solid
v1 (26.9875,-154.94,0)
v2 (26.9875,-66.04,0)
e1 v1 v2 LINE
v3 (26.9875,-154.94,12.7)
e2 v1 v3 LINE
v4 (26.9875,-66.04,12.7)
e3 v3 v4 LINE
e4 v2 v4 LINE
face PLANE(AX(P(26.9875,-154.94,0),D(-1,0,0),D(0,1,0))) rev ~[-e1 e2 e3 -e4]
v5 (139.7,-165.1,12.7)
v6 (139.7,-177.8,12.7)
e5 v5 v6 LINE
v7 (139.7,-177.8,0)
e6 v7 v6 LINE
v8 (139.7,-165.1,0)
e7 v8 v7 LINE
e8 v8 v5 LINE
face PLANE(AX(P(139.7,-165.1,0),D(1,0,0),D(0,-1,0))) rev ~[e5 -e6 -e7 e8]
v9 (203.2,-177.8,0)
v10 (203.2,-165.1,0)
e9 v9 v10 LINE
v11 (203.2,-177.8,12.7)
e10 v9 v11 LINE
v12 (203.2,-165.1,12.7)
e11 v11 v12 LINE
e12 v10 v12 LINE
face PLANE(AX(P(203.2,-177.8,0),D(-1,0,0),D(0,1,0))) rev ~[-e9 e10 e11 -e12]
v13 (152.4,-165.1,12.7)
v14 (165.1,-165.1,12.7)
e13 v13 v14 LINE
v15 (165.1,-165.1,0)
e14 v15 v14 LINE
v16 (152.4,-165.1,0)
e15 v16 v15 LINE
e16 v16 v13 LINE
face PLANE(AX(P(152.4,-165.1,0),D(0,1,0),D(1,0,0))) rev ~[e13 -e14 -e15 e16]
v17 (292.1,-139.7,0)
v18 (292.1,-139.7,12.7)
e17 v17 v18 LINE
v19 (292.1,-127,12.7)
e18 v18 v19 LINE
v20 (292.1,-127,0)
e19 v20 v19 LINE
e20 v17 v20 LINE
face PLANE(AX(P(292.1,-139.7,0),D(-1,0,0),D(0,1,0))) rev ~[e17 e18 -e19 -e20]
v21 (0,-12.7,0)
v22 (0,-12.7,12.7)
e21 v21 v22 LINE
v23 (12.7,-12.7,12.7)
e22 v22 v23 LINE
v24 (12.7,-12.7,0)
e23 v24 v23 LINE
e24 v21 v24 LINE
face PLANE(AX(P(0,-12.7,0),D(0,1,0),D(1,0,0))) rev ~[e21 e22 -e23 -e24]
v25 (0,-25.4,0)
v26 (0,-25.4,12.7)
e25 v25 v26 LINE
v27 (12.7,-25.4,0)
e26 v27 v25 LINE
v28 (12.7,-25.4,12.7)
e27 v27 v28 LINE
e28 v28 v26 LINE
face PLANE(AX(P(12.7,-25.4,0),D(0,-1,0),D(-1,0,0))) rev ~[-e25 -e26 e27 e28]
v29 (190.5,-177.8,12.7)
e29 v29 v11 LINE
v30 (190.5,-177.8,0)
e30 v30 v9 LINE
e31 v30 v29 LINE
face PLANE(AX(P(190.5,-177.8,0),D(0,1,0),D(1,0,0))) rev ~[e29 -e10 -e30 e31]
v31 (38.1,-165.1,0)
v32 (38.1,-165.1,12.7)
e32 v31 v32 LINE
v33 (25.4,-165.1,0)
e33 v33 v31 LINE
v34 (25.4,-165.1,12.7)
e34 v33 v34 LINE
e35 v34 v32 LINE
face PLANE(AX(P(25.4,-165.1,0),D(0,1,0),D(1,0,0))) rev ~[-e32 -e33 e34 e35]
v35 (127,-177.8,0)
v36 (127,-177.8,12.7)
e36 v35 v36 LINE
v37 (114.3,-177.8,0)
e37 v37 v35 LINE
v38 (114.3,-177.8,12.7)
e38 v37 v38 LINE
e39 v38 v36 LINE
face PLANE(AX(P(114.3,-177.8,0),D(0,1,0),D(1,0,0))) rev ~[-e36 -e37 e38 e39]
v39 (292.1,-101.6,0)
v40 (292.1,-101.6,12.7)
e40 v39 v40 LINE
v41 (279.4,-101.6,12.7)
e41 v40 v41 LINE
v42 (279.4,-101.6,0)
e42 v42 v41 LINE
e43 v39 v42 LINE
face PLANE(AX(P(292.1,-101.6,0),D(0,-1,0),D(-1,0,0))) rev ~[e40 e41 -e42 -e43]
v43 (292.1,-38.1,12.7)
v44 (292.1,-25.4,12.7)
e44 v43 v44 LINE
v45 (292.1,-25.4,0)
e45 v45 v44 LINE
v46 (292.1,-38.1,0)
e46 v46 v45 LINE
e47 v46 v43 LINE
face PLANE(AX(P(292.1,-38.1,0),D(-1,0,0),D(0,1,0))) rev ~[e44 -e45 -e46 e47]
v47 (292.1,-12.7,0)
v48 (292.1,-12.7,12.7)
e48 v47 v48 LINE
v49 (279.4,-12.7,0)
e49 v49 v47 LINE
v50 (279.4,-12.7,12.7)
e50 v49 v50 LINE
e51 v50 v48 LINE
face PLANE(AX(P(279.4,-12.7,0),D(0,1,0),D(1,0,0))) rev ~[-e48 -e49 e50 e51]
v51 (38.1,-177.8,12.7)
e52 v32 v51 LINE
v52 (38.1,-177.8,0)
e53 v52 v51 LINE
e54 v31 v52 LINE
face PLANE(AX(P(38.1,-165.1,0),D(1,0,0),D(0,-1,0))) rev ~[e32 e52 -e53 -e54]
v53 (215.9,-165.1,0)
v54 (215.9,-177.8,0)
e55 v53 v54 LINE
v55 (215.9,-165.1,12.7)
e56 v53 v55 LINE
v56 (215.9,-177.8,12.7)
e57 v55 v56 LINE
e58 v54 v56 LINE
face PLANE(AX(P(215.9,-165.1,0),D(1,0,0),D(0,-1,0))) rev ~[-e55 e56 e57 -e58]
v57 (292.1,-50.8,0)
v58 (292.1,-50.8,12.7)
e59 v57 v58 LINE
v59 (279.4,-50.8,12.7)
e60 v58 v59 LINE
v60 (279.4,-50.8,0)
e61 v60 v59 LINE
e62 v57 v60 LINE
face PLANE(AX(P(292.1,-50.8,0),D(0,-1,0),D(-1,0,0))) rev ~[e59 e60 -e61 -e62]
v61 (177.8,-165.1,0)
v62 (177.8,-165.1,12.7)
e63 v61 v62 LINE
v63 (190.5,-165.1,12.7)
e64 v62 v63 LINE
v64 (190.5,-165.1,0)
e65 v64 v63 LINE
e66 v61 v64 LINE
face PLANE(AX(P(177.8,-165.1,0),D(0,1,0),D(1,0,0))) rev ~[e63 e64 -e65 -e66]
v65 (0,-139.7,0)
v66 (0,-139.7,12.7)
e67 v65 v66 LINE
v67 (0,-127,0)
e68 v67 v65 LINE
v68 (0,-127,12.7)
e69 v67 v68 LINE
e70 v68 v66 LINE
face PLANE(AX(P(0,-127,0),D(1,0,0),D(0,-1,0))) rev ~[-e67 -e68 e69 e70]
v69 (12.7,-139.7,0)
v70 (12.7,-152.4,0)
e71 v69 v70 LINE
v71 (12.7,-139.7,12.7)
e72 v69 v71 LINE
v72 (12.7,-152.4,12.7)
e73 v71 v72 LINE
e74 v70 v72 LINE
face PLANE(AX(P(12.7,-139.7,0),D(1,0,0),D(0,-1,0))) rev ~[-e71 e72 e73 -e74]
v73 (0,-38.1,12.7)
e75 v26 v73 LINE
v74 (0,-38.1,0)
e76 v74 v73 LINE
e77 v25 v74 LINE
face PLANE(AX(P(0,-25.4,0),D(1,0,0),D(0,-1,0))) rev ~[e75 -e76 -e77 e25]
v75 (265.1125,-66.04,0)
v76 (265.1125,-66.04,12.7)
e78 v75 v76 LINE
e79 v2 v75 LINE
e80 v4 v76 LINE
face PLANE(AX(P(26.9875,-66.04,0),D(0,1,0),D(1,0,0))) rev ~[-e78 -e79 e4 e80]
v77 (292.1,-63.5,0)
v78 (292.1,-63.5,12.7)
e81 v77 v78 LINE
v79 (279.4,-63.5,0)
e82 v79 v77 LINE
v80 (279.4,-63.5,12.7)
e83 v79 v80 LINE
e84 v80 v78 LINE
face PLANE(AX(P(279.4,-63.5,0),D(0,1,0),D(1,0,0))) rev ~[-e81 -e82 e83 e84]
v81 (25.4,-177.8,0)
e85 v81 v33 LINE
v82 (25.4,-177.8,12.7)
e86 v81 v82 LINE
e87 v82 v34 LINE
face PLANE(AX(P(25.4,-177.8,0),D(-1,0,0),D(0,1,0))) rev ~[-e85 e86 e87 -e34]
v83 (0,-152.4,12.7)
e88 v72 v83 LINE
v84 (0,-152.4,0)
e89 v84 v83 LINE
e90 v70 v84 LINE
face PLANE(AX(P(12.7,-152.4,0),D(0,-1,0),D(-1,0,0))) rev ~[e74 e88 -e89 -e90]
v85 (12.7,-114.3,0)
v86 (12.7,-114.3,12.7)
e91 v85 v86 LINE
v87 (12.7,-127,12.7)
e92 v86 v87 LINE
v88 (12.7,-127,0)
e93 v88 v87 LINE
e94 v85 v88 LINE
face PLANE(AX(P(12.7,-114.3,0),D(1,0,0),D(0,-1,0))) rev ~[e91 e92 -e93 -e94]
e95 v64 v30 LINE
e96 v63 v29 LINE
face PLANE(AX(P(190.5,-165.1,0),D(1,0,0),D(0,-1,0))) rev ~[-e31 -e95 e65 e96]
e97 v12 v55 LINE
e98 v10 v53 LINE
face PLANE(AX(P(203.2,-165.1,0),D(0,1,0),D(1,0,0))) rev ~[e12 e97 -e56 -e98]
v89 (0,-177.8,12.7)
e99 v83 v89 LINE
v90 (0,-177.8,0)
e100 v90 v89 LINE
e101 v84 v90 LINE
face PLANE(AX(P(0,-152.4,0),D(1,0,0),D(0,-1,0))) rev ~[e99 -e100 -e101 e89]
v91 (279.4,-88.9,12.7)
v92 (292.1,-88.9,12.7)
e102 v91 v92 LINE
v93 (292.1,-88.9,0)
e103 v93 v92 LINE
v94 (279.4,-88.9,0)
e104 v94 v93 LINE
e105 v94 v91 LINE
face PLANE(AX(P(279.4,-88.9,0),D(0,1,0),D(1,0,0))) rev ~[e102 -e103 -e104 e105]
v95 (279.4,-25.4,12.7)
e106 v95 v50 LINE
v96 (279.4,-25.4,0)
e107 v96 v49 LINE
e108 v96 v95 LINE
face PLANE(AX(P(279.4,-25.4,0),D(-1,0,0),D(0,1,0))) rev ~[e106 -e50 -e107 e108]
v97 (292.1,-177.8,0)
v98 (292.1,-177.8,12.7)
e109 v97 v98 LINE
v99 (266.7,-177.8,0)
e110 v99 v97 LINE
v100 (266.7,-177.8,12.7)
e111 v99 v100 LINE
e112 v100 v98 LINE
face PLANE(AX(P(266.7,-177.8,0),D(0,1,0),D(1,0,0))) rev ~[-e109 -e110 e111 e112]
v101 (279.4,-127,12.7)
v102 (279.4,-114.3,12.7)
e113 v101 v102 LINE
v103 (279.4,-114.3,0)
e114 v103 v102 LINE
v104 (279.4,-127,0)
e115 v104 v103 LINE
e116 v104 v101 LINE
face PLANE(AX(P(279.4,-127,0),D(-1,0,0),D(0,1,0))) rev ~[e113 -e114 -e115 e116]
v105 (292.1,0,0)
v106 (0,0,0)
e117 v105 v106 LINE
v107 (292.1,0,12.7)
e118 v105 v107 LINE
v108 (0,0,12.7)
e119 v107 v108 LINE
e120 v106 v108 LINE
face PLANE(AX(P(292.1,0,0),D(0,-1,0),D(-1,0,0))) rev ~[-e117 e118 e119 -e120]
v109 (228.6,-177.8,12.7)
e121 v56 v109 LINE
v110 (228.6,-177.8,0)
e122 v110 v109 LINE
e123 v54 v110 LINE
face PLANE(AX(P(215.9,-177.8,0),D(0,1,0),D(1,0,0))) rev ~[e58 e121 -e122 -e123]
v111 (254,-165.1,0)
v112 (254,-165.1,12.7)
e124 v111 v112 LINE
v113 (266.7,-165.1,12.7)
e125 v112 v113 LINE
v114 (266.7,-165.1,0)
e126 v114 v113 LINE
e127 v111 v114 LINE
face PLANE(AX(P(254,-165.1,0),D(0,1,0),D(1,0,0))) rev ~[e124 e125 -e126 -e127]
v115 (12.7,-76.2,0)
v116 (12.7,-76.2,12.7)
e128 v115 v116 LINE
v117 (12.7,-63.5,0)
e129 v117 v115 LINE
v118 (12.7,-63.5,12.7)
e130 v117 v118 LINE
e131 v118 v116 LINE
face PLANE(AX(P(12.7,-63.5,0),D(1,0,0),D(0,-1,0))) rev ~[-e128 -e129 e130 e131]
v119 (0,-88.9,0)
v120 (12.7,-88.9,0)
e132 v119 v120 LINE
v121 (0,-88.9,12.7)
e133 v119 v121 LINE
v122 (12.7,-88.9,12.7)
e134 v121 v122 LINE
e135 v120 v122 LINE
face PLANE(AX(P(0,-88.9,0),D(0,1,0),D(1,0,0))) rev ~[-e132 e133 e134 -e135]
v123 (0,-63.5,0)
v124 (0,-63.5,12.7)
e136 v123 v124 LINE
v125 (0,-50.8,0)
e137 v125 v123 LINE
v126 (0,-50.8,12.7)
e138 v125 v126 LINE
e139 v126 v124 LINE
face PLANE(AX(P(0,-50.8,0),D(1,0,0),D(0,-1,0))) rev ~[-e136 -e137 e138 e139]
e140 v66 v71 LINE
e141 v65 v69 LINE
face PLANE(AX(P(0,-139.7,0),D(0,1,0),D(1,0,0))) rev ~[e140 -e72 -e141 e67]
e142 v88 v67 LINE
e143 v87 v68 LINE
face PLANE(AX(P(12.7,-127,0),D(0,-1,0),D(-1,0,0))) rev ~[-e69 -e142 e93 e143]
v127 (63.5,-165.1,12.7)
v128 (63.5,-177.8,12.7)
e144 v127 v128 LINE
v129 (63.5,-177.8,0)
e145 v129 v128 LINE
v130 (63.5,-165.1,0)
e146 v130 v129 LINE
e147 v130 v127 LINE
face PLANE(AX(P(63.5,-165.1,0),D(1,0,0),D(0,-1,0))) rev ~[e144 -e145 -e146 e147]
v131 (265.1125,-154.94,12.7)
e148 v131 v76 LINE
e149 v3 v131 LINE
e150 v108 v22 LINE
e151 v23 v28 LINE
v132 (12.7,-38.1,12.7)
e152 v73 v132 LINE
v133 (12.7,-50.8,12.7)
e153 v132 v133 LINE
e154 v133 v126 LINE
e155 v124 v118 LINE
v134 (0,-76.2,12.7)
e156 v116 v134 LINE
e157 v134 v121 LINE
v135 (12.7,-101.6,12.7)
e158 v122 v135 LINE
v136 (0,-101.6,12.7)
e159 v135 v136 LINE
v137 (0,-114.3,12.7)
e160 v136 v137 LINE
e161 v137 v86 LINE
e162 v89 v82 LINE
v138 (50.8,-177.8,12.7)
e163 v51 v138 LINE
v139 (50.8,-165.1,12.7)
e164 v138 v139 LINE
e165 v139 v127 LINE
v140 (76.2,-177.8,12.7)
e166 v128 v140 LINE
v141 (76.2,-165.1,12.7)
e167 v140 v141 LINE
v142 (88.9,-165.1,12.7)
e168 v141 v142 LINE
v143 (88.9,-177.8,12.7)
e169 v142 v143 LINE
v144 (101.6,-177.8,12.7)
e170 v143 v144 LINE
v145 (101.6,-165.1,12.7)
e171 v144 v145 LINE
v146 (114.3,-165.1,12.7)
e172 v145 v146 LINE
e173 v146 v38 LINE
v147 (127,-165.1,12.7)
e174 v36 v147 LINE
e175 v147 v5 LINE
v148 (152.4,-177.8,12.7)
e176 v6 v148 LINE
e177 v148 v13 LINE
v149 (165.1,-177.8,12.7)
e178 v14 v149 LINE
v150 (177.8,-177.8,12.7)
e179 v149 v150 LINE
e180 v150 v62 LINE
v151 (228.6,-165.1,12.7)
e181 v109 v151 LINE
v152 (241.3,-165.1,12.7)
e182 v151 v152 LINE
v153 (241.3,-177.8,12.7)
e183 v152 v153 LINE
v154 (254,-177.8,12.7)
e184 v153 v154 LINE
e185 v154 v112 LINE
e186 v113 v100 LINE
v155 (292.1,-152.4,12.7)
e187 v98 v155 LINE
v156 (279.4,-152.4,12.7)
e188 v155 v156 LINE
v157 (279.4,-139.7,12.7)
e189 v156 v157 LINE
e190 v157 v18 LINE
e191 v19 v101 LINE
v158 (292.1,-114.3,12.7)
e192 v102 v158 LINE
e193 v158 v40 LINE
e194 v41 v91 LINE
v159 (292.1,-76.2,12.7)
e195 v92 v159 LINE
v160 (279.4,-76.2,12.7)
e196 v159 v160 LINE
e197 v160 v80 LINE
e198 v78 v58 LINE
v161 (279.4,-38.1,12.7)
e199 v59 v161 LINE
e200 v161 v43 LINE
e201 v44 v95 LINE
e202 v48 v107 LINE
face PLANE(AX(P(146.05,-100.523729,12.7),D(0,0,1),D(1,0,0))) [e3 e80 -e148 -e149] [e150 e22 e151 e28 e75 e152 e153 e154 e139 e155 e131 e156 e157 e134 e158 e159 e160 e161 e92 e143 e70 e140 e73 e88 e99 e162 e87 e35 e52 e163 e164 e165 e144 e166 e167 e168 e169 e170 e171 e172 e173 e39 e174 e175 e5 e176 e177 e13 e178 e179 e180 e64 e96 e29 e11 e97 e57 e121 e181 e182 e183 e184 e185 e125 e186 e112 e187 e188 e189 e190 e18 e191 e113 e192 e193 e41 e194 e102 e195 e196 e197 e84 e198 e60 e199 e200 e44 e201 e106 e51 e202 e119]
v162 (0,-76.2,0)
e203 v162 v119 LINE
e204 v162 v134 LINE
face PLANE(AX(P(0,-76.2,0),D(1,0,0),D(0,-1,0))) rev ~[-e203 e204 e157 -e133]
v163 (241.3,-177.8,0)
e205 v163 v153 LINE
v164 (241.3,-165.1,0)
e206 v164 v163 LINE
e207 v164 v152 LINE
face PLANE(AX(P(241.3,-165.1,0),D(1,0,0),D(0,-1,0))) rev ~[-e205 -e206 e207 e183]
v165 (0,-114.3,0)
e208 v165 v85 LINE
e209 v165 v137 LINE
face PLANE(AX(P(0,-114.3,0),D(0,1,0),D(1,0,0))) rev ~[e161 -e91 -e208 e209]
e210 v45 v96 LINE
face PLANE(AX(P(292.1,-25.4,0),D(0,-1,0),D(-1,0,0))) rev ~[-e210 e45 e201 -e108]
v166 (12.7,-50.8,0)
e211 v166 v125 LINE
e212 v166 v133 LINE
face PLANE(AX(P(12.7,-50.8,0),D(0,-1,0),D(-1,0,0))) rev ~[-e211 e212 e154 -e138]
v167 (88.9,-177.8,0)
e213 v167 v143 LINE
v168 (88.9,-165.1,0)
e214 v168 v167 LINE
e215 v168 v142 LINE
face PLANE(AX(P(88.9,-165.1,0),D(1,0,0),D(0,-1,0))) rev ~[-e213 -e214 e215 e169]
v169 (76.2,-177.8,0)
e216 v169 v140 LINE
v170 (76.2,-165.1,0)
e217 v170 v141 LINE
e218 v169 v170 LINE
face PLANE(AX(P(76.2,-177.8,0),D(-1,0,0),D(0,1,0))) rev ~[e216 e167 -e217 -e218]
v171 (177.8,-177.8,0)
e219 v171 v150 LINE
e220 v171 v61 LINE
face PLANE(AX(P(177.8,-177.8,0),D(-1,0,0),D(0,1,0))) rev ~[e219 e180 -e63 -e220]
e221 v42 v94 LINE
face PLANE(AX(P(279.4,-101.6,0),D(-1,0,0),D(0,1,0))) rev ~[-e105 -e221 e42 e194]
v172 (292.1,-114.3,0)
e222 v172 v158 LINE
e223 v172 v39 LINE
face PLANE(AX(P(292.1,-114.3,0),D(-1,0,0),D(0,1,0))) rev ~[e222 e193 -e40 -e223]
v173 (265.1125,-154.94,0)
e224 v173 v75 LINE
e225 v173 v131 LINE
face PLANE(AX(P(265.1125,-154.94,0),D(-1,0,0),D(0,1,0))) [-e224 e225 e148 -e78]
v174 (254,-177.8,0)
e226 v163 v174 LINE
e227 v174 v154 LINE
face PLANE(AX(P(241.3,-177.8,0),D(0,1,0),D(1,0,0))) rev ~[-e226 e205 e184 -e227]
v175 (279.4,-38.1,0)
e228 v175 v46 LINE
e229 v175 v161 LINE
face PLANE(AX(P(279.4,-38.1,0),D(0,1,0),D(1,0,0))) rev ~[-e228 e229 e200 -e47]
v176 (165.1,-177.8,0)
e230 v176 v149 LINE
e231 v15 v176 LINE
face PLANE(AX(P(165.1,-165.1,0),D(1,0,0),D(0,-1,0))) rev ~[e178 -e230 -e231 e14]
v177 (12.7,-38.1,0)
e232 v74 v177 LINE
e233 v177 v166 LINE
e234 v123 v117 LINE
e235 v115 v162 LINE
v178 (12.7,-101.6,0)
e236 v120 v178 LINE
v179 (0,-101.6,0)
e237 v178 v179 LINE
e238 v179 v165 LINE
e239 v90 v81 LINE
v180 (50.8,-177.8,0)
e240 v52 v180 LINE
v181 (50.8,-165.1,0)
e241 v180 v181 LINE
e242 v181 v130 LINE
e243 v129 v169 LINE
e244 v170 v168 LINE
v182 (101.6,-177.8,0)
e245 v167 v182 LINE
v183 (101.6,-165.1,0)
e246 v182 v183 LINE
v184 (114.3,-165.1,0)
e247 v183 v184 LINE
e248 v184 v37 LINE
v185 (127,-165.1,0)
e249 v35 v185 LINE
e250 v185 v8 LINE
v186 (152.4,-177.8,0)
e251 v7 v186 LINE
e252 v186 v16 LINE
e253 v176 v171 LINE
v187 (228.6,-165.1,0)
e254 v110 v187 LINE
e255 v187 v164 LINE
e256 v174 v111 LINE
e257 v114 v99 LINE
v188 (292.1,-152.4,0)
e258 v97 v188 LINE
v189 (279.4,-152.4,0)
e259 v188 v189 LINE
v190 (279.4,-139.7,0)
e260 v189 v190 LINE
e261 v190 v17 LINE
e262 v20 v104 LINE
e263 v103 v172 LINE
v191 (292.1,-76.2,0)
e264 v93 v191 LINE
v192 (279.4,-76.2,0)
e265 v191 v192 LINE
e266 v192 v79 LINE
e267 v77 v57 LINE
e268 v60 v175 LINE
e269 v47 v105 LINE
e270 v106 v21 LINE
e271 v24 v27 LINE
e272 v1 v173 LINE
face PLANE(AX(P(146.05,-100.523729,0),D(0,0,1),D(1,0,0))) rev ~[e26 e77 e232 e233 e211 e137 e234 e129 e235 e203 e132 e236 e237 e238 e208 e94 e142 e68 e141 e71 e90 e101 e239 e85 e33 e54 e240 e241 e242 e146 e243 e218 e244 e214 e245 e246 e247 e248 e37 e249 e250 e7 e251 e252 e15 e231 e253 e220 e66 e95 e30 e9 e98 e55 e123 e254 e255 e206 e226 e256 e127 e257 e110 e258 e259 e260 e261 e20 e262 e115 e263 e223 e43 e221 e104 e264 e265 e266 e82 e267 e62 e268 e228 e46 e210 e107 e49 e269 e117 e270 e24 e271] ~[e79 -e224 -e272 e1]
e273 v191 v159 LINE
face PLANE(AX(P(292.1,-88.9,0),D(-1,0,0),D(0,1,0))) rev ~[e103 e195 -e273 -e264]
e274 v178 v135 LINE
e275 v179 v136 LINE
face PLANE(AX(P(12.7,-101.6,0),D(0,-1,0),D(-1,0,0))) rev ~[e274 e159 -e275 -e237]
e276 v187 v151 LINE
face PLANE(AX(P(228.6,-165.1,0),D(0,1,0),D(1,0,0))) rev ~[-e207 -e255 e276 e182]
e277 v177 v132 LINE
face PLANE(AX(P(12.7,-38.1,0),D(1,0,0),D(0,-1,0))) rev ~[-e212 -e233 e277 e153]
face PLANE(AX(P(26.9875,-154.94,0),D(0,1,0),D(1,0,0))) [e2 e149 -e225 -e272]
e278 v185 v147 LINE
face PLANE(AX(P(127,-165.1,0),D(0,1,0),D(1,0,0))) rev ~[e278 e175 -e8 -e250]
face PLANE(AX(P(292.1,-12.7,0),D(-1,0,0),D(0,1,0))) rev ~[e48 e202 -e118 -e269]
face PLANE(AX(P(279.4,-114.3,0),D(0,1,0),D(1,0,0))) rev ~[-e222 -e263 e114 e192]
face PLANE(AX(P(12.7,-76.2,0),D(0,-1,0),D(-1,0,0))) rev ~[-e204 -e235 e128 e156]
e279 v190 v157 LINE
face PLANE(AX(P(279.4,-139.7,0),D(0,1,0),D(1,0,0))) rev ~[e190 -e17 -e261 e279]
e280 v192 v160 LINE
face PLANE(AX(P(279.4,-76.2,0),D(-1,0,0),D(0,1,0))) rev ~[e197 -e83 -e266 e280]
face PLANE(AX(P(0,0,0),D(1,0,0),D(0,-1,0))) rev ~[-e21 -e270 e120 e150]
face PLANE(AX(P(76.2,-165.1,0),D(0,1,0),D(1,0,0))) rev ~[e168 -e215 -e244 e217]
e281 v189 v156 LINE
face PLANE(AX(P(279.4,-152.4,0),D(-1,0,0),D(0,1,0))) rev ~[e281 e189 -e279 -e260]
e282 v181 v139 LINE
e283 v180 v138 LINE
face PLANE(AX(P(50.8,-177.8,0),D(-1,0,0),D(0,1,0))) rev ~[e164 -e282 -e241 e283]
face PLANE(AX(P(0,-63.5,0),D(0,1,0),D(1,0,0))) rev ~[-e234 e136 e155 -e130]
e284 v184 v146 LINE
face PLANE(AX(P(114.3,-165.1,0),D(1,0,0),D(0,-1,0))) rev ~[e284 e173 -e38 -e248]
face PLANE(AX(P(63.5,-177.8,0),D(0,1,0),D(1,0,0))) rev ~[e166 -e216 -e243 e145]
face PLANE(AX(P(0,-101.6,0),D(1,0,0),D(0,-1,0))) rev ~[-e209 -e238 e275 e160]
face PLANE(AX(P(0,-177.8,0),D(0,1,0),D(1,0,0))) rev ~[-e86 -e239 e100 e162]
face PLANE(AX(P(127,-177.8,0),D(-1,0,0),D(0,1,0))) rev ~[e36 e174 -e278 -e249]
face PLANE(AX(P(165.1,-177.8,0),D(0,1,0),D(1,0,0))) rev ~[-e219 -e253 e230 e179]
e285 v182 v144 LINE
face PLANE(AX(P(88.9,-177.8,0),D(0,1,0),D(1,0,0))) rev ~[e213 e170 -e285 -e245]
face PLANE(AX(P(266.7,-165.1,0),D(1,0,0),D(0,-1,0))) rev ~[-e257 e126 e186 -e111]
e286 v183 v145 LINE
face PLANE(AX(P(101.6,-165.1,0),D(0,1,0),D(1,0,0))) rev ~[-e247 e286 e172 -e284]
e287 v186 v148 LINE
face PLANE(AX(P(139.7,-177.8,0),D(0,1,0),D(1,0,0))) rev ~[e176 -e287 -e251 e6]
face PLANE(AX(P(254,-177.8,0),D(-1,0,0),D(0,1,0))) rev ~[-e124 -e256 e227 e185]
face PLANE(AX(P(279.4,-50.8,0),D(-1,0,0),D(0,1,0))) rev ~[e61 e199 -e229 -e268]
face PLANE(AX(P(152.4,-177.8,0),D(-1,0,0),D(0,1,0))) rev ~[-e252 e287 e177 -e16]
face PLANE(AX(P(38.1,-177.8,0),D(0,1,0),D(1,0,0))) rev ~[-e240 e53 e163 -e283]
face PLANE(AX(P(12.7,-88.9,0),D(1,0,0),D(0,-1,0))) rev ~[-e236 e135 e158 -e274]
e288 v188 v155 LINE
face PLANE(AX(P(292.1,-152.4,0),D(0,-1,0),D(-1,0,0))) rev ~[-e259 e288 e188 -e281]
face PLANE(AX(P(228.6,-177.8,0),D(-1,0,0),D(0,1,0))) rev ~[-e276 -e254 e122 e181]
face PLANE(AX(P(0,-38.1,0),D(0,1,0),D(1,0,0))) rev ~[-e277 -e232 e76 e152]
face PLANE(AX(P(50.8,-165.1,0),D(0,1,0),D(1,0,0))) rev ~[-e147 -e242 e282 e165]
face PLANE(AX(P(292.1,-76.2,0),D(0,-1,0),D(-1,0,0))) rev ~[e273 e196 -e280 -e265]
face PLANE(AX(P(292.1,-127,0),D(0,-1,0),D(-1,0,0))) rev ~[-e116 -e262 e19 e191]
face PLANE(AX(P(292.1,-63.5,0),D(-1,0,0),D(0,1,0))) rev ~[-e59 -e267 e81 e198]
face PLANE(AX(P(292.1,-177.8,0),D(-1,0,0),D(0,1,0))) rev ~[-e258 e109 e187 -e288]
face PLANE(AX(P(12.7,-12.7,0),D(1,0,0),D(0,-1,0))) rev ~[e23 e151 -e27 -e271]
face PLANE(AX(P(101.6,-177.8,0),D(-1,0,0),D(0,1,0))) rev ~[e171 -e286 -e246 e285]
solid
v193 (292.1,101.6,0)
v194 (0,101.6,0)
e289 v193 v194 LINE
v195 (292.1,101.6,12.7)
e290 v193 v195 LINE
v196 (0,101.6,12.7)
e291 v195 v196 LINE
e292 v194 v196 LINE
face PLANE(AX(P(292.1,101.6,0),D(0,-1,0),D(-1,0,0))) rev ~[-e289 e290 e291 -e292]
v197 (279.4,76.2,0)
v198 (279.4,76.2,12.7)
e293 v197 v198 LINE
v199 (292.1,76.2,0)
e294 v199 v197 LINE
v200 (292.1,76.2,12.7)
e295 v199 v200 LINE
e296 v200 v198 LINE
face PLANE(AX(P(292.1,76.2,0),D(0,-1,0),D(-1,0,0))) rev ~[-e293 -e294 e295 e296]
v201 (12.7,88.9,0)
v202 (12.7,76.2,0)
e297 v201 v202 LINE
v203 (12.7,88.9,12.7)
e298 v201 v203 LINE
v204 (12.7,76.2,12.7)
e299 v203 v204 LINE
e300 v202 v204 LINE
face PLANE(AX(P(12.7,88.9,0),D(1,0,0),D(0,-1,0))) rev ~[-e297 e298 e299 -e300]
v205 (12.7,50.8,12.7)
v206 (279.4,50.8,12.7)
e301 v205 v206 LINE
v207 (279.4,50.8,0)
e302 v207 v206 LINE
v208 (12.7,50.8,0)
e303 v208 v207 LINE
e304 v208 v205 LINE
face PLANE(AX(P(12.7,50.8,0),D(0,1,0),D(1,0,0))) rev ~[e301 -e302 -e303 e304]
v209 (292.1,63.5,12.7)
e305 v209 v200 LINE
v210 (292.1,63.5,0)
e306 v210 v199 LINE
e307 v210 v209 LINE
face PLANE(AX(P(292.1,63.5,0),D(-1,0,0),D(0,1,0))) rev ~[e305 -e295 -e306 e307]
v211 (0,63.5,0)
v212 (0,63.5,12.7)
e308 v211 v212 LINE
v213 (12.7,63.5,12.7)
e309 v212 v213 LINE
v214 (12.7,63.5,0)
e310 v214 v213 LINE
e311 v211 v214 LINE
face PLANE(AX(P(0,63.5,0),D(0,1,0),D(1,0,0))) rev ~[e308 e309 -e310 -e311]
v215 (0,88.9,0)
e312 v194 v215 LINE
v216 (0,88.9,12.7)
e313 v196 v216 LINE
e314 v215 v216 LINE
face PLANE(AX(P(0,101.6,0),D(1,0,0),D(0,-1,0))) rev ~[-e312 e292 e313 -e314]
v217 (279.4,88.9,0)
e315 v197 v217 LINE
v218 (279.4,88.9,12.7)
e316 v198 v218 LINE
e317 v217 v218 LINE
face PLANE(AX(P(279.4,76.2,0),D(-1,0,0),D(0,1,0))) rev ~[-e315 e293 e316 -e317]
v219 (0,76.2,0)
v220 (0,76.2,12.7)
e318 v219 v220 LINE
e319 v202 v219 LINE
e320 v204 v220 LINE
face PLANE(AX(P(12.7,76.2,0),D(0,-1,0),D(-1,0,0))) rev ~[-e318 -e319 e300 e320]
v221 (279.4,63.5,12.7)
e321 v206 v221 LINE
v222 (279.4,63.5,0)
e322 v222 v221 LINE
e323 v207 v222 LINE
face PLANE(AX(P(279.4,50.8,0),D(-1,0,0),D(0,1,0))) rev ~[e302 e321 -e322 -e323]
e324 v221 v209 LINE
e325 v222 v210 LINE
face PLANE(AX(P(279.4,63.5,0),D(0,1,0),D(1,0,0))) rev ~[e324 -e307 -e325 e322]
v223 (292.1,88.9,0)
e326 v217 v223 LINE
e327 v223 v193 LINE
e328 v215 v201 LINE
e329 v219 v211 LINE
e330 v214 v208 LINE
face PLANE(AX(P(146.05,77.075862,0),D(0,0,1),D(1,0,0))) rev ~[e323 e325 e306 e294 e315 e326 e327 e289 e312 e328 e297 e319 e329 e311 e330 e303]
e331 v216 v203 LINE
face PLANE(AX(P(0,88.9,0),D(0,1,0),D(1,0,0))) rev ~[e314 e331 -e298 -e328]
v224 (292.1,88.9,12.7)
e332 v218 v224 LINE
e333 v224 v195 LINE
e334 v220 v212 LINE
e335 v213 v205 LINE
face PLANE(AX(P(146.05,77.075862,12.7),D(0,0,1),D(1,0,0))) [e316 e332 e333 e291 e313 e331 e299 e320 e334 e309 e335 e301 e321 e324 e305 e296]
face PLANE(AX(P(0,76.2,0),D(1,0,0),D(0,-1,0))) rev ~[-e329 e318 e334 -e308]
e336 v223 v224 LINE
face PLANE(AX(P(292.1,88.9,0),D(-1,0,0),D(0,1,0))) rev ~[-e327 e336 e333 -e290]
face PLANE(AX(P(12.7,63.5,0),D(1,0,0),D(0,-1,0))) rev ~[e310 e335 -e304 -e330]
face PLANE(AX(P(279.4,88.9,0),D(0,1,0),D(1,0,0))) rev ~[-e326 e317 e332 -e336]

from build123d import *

# Parameters (mm, degrees)
F0_W     = 238.125
F0_H     = 88.9
F1_DEPTH = 12.7


with BuildPart() as f1:
    # F0 (on Top) → F1 (new body)
    with BuildSketch(Plane.XY):
        Polygon((292.1, 0), (0, 0), (0, -12.7), (12.7, -12.7), (12.7, -25.4), (0, -25.4), (0, -38.1), (12.7, -38.1), (12.7, -50.8), (0, -50.8), (0, -63.5), (12.7, -63.5), (12.7, -76.2), (0, -76.2), (0, -88.9), (12.7, -88.9), (12.7, -101.6), (0, -101.6), (0, -114.3), (12.7, -114.3), (12.7, -127), (0, -127), (0, -139.7), (12.7, -139.7), (12.7, -152.4), (0, -152.4), (0, -177.8), (25.4, -177.8), (25.4, -165.1), (38.1, -165.1), (38.1, -177.8), (50.8, -177.8), (50.8, -165.1), (63.5, -165.1), (63.5, -177.8), (76.2, -177.8), (76.2, -165.1), (88.9, -165.1), (88.9, -177.8), (101.6, -177.8), (101.6, -165.1), (114.3, -165.1), (114.3, -177.8), (127, -177.8), (127, -165.1), (139.7, -165.1), (139.7, -177.8), (152.4, -177.8), (152.4, -165.1), (165.1, -165.1), (165.1, -177.8), (177.8, -177.8), (177.8, -165.1), (190.5, -165.1), (190.5, -177.8), (203.2, -177.8), (203.2, -165.1), (215.9, -165.1), (215.9, -177.8), (228.6, -177.8), (228.6, -165.1), (241.3, -165.1), (241.3, -177.8), (254, -177.8), (254, -165.1), (266.7, -165.1), (266.7, -177.8), (292.1, -177.8), (292.1, -152.4), (279.4, -152.4), (279.4, -139.7), (292.1, -139.7), (292.1, -127), (279.4, -127), (279.4, -114.3), (292.1, -114.3), (292.1, -101.6), (279.4, -101.6), (279.4, -88.9), (292.1, -88.9), (292.1, -76.2), (279.4, -76.2), (279.4, -63.5), (292.1, -63.5), (292.1, -50.8), (279.4, -50.8), (279.4, -38.1), (292.1, -38.1), (292.1, -25.4), (279.4, -25.4), (279.4, -12.7), (292.1, -12.7), align=None)
        with Locations((146.05, -110.49)):
            Rectangle(F0_W, F0_H, mode=Mode.SUBTRACT)
        Polygon((292.1, 101.6), (0, 101.6), (0, 88.9), (12.7, 88.9), (12.7, 76.2), (0, 76.2), (0, 63.5), (12.7, 63.5), (12.7, 50.8), (279.4, 50.8), (279.4, 63.5), (292.1, 63.5), (292.1, 76.2), (279.4, 76.2), (279.4, 88.9), (292.1, 88.9), align=None)
    extrude(amount=F1_DEPTH)


solid = f1.part
